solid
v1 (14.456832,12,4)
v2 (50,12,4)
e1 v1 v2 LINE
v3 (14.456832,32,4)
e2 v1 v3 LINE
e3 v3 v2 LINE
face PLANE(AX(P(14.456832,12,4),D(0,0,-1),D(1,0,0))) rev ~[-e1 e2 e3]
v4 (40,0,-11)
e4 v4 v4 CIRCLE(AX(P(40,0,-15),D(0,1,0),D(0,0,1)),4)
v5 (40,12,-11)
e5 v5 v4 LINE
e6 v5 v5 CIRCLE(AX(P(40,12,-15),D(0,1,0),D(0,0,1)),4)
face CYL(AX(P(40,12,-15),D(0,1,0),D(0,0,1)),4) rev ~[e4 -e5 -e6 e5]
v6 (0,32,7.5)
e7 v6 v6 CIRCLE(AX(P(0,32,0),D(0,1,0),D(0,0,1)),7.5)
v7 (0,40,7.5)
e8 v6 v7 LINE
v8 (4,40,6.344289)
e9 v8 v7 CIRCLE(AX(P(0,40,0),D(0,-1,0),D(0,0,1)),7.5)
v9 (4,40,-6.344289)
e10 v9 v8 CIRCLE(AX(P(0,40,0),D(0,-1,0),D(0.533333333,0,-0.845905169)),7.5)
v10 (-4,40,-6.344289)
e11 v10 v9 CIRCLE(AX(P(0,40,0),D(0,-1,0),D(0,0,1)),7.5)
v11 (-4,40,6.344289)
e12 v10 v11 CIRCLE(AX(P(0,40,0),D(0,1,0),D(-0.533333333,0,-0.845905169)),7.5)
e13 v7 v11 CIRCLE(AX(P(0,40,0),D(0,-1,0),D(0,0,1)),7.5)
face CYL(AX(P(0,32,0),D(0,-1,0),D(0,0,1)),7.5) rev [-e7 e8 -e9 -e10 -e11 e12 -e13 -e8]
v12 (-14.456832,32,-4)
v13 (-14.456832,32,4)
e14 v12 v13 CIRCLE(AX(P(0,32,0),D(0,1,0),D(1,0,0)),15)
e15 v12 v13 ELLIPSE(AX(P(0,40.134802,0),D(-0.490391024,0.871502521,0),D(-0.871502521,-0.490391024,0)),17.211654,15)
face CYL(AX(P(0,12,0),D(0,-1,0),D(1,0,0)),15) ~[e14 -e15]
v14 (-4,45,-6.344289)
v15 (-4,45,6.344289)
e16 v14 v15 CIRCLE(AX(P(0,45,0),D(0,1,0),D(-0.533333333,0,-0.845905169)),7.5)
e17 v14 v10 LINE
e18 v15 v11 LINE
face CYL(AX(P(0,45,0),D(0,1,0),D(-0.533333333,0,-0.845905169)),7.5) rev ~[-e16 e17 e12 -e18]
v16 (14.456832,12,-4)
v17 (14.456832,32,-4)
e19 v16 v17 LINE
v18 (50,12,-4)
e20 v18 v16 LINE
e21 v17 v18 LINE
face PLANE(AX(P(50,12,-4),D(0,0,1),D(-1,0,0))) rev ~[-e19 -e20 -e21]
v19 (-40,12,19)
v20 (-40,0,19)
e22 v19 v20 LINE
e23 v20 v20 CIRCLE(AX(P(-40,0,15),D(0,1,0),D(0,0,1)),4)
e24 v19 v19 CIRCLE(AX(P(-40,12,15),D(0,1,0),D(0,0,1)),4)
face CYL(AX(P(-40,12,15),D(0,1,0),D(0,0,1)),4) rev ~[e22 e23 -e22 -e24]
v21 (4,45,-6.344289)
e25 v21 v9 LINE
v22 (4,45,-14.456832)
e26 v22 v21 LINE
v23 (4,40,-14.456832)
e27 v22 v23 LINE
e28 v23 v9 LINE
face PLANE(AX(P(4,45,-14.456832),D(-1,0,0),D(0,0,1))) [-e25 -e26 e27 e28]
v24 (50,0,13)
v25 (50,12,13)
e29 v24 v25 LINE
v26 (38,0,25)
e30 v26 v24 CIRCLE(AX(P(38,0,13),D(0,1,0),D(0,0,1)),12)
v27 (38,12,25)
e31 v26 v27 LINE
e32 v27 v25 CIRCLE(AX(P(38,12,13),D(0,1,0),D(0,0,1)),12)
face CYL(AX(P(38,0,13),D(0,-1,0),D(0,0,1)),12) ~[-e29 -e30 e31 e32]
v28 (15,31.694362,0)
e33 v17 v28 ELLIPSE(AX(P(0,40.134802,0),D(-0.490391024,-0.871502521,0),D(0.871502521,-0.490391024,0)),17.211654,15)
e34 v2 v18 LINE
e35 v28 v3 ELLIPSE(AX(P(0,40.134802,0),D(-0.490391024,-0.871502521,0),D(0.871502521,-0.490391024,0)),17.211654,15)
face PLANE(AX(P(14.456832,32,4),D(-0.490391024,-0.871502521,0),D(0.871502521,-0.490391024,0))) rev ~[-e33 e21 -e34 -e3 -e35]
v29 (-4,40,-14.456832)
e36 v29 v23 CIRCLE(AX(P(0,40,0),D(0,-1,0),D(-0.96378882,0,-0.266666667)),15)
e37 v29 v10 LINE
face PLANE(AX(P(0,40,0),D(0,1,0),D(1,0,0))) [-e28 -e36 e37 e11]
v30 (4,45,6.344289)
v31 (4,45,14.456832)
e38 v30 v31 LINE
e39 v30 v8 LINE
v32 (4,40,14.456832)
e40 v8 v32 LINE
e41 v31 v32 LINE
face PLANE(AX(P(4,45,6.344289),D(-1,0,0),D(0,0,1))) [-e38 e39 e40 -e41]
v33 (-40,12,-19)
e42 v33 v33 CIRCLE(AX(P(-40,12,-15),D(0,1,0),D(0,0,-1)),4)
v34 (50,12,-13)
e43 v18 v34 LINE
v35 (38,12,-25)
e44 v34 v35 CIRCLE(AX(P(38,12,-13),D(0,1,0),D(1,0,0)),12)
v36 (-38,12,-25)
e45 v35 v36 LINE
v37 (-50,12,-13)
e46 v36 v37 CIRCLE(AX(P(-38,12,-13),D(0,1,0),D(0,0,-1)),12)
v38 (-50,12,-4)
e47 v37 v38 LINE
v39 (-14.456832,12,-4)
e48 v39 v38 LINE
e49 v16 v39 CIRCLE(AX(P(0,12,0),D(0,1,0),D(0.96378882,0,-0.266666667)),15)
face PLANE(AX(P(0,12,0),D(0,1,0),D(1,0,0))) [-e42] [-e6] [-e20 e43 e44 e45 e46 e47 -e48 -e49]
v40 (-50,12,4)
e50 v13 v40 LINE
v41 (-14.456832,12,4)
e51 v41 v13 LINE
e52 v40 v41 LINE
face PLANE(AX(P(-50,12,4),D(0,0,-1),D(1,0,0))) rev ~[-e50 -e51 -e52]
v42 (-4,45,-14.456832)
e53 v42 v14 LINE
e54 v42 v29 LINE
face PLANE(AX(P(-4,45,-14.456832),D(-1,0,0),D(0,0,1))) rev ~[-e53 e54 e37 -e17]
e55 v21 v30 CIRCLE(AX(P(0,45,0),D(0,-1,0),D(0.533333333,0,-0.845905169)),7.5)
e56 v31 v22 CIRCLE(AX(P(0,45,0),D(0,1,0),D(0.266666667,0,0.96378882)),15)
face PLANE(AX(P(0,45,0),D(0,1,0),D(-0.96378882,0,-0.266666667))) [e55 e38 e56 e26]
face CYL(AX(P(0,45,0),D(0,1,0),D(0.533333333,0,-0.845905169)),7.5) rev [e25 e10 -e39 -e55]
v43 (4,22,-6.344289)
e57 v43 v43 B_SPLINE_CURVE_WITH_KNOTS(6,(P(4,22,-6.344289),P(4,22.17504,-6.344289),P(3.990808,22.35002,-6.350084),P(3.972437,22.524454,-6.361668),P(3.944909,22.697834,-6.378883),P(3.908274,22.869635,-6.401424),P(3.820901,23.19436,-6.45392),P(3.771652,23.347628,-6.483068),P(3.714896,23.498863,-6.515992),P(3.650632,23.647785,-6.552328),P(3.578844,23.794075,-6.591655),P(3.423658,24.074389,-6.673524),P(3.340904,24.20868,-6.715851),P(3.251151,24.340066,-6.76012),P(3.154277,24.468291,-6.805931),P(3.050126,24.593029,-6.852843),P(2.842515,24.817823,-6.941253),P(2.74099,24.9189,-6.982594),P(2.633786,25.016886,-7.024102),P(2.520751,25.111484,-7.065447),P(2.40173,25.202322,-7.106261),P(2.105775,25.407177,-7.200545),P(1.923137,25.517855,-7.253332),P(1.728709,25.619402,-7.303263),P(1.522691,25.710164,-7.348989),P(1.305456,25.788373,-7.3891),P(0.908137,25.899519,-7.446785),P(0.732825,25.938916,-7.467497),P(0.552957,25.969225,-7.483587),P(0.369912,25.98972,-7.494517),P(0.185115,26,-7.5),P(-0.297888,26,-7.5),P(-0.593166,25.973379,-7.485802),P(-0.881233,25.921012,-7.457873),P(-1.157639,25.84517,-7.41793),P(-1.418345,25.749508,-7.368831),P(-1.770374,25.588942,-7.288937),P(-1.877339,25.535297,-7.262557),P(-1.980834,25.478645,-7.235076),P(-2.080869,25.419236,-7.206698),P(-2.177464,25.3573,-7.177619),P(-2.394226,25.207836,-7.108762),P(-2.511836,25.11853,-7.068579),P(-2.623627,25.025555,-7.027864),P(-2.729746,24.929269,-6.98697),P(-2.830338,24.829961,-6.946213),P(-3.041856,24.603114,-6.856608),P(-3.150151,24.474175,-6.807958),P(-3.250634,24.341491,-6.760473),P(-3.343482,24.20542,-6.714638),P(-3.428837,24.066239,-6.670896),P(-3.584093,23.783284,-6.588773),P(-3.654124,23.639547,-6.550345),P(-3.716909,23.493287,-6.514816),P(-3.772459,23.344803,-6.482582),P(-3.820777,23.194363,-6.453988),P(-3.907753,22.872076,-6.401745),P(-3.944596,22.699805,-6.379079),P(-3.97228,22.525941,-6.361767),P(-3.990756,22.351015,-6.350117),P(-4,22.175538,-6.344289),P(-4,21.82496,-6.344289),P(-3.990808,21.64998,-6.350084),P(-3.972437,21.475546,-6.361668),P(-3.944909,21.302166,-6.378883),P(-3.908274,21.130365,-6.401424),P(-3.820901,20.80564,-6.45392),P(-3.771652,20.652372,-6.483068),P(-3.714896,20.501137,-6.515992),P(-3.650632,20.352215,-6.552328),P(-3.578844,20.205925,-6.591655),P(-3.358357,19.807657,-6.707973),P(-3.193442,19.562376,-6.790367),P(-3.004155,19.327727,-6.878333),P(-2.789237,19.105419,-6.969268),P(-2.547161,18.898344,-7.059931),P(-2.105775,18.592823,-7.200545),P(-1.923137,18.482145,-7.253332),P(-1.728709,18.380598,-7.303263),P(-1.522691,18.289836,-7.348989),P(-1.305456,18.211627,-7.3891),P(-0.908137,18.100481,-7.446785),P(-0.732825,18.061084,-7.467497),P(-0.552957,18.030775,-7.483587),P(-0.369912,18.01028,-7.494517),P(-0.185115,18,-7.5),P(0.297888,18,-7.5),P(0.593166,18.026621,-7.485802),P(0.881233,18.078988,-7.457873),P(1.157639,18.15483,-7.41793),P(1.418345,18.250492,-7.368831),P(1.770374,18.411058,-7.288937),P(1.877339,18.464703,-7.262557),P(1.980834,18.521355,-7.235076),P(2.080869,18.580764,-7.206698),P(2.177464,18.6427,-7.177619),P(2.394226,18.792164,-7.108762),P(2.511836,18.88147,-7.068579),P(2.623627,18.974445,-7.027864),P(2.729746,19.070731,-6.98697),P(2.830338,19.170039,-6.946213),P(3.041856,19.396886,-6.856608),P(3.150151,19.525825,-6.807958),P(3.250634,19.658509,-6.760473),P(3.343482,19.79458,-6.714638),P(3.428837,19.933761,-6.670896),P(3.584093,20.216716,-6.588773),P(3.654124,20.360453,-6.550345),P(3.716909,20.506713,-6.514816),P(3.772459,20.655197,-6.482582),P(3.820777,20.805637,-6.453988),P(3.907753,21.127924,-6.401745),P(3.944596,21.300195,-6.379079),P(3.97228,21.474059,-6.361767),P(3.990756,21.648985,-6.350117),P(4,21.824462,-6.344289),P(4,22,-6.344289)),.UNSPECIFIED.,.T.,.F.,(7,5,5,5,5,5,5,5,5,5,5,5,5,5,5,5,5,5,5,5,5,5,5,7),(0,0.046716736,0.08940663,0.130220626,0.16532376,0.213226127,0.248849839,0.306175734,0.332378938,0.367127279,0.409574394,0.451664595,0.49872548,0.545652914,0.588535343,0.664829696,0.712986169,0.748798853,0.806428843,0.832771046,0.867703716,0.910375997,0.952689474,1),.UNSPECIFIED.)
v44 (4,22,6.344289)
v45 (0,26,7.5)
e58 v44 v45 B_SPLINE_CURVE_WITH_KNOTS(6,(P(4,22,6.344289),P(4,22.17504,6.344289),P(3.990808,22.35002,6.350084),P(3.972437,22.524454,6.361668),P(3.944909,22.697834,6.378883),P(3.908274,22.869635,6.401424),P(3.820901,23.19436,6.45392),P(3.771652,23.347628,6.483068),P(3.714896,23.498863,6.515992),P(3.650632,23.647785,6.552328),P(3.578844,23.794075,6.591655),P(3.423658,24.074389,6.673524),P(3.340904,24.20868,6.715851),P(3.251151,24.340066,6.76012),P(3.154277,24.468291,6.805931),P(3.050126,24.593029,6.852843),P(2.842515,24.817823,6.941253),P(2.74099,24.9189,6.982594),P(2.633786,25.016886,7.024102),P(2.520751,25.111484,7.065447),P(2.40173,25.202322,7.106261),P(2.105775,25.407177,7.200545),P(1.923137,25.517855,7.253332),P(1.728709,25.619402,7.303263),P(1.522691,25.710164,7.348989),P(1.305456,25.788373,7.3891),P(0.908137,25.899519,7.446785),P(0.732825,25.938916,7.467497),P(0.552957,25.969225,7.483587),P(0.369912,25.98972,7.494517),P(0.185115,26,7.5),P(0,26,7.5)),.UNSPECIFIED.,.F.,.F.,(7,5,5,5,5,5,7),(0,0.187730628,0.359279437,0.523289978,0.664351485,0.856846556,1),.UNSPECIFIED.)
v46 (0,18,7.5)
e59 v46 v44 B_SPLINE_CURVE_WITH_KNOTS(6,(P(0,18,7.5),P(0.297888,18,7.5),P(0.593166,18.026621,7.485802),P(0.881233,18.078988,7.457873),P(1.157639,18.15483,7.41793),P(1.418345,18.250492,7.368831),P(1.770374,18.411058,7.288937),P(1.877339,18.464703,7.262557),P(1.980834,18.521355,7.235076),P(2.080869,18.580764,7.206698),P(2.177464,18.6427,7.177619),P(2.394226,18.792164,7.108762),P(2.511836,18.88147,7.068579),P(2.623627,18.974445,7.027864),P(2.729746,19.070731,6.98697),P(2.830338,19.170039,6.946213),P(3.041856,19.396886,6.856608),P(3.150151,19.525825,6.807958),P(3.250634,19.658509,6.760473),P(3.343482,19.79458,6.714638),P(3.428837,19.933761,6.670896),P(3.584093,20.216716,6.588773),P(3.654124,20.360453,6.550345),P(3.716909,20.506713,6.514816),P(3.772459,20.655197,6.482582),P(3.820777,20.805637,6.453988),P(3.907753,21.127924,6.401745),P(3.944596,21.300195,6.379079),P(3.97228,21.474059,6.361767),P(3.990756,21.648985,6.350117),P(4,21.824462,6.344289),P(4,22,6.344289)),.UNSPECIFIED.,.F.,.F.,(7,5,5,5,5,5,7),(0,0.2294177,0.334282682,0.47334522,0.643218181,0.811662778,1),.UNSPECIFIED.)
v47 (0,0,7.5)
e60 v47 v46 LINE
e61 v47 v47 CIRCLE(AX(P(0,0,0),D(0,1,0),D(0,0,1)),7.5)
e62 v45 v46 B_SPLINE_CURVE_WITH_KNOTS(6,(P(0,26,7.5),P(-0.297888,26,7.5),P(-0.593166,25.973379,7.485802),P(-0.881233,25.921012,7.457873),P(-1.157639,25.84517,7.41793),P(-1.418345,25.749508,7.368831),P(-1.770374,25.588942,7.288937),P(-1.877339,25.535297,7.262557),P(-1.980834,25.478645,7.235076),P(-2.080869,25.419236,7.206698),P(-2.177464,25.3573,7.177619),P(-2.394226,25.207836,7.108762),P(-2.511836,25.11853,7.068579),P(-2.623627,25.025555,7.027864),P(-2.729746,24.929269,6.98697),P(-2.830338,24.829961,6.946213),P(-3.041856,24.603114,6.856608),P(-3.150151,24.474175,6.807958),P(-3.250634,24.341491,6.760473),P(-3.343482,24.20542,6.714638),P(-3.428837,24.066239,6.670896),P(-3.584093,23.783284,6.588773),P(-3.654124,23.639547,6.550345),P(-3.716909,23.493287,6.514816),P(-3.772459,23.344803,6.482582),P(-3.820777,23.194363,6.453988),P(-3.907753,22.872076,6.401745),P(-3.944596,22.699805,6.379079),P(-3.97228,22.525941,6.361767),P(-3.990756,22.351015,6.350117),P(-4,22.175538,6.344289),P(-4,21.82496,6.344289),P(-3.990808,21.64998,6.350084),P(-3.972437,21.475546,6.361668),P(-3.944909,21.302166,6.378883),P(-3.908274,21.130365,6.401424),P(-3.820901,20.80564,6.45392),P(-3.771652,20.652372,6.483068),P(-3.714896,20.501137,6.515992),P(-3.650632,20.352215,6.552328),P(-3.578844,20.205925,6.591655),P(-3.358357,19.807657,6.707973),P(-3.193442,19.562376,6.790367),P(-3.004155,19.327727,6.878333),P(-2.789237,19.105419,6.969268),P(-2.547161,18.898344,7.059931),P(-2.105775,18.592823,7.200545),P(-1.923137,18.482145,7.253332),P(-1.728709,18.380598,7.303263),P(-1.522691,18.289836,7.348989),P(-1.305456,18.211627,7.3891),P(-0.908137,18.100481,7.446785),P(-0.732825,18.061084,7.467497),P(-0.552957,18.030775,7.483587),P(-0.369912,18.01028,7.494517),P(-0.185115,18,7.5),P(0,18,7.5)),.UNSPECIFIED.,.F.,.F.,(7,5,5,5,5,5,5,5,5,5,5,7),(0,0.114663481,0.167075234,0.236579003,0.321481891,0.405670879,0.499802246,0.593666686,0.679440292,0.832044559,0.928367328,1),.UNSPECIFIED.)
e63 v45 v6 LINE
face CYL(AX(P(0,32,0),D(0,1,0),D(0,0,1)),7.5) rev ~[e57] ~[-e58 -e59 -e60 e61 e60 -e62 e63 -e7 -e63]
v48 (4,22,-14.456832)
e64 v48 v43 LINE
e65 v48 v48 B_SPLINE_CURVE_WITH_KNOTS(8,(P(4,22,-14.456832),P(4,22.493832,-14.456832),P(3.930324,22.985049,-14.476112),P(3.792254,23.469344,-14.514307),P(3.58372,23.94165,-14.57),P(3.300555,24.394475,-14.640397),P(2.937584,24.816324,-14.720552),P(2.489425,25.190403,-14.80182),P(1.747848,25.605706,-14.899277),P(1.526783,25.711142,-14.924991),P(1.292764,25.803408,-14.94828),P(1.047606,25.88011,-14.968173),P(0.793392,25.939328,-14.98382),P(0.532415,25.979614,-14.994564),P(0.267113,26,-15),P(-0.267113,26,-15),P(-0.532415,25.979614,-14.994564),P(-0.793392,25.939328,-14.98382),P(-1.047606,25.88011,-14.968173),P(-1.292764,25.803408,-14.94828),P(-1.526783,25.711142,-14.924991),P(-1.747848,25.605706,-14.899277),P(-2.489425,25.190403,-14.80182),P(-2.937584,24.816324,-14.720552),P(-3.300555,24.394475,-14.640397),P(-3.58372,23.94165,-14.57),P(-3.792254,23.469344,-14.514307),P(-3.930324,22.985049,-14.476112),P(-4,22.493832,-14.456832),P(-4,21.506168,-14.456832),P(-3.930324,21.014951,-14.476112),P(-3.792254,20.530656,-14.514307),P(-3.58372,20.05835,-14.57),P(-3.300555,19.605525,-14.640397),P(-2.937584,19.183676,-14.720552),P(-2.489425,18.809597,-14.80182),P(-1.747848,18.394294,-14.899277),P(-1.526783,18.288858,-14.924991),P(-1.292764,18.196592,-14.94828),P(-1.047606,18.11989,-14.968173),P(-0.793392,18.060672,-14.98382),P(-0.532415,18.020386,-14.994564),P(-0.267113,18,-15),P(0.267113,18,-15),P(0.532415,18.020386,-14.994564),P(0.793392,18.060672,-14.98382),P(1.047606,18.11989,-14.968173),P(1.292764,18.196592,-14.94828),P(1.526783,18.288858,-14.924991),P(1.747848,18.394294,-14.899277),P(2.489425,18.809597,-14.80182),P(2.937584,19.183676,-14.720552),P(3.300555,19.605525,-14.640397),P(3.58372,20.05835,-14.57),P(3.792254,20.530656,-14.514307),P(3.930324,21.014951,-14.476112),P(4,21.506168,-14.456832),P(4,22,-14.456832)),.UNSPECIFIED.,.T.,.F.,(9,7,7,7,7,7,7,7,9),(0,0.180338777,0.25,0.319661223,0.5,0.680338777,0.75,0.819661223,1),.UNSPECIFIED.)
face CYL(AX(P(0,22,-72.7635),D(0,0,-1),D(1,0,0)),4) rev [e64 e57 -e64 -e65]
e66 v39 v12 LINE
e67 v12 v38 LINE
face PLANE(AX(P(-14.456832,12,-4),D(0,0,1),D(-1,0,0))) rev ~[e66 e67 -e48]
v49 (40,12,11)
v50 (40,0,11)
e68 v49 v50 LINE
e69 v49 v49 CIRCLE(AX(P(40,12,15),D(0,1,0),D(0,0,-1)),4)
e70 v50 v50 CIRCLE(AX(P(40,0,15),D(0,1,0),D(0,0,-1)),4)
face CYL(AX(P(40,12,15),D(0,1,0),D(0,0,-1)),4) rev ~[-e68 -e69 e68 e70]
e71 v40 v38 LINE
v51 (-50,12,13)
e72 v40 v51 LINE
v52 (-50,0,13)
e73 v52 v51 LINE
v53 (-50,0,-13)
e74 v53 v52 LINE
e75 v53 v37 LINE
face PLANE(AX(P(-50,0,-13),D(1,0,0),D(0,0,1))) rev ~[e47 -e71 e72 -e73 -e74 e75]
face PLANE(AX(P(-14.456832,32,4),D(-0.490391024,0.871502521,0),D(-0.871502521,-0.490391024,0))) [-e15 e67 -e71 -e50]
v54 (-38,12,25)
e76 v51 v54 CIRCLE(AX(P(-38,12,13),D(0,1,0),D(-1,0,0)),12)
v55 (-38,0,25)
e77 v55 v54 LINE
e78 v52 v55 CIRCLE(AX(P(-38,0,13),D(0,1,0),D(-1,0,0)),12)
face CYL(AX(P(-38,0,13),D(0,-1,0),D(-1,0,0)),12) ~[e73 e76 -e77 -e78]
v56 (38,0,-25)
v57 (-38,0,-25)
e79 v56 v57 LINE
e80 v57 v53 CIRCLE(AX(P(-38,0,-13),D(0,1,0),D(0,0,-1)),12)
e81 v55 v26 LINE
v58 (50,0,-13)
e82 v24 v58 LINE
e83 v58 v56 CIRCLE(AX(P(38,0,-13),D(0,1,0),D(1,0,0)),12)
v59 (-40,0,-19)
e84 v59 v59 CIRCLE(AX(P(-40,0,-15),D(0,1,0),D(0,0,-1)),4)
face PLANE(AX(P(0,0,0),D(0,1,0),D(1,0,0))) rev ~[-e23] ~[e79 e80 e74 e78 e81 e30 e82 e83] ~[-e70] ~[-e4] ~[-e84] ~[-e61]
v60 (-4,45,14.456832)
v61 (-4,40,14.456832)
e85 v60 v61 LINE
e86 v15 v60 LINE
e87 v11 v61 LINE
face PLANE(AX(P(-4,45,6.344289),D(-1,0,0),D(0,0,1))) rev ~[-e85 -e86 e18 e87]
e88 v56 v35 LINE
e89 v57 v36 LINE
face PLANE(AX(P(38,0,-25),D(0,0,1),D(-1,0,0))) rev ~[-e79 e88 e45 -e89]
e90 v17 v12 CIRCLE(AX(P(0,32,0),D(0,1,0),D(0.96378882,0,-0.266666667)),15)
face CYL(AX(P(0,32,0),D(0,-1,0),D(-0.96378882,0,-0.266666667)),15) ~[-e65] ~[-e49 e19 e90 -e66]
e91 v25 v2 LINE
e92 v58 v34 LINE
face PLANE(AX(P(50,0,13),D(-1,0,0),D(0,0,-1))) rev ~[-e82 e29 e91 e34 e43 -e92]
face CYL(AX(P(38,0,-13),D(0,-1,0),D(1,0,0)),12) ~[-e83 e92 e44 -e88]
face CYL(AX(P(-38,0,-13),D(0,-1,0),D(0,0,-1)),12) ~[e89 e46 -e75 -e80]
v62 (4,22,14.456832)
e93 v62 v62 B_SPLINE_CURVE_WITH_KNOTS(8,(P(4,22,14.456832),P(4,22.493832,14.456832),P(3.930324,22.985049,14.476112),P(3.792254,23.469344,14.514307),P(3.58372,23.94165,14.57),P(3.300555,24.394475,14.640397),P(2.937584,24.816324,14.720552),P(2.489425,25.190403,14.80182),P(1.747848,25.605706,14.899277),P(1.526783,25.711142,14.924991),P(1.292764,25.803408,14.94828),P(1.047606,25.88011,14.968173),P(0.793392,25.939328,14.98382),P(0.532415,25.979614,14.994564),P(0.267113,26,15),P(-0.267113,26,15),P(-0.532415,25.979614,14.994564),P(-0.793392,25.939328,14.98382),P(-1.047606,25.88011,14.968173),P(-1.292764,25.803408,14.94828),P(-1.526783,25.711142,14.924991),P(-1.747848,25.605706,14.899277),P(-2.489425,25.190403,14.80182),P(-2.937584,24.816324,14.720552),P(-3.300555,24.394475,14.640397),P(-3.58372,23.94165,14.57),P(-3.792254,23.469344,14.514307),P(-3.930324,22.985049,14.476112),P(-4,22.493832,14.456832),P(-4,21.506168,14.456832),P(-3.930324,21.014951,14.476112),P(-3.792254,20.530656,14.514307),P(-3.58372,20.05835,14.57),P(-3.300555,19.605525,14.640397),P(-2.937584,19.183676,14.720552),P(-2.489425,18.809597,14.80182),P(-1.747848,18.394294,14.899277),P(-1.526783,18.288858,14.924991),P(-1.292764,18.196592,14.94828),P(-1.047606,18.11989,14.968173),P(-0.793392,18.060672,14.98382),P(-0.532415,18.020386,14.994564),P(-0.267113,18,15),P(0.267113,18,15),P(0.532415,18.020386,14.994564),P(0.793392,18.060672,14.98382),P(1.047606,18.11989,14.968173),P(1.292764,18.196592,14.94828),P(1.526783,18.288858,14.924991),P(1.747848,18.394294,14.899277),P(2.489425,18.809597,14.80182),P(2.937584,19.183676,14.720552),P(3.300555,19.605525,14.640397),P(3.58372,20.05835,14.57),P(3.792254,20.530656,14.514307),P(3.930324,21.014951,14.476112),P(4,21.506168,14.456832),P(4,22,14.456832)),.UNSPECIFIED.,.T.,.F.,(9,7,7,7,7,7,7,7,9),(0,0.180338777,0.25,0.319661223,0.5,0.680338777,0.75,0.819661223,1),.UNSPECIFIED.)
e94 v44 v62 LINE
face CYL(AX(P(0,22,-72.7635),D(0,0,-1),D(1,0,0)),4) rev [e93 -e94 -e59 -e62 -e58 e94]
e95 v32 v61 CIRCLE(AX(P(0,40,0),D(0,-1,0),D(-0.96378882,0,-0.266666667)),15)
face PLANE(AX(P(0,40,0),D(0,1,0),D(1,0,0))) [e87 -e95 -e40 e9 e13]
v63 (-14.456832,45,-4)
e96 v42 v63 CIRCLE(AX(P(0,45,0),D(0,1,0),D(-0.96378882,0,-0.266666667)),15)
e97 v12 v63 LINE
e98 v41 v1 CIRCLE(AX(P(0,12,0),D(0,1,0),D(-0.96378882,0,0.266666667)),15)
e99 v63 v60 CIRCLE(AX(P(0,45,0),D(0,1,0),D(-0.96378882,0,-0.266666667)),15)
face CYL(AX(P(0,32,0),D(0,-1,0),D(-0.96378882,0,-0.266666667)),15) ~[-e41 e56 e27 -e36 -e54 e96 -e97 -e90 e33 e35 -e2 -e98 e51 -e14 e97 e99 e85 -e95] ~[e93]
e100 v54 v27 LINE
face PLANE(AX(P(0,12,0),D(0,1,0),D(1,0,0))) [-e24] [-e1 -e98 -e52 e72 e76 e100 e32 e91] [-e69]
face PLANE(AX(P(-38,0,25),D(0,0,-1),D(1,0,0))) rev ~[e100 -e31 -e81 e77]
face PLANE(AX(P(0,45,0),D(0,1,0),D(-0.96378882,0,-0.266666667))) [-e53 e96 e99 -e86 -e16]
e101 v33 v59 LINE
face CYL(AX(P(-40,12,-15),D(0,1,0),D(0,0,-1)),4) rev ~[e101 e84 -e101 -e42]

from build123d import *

# Parameters (mm, degrees)
EXTRUDE_1_DEPTH          = 12
SKETCH_2_R               = 3.999999999999999
CUT_EXTRUDE_2_DEPTH      = 58.17516943569124
EXTRUDE_2_DEPTH          = 20
CUT_EXTRUDE_3_DEPTH      = 67.06814663663573
CUT_EXTRUDE_4_DEPTH      = 67.06814663663573
SKETCH_7_R               = 7.5
CUT_EXTRUDE_5_DEPTH      = 65.41273166075167
EXTRUDE_START            = -20
SKETCH_8_R               = 15
SKETCH_8_R_2             = 7.499999999999999
EXTRUDE_3_DEPTH          = 20
SKETCH_10_R              = 15
SKETCH_10_R_2            = 7.500000000000001
EXTRUDE_4_DEPTH          = 13
SKETCH_11_OUTSIDE_W      = 126.10400000000001
SKETCH_11_OUTSIDE_H      = 76.104
CUT_EXTRUDE_7_DEPTH      = 5
CUT_EXTRUDE_8_DEPTH      = 72.76350047203664
CUT_EXTRUDE_8_DEPTH_BACK = 72.76350047203664
SKETCH_12_R              = 4


with BuildPart() as part:
    # 草图1 → 凸台-拉伸1 (new body)
    with BuildSketch(Plane(origin=(0, 0, 0), x_dir=(1, 0, 0), z_dir=(0, 1, 0))):
        with BuildLine():
            Line((37.99999999999992, 25.00000000000001), (-37.999999999999915, 25))
            ThreePointArc((-37.999999999999915, 25), (-46.48528137423857, 21.485281374238575), (-50, 12.999999999999913))
            Line((-50, 12.999999999999913), (-49.99999999999999, -12.99999999999992))
            ThreePointArc((-49.99999999999999, -12.99999999999992), (-46.48528137423857, -21.48528137423858), (-37.99999999999991, -25.000000000000004))
            Line((-37.99999999999991, -25.000000000000004), (37.99999999999992, -24.999999999999993))
            ThreePointArc((37.99999999999992, -24.999999999999993), (46.48528137423858, -21.48528137423856), (50.00000000000001, -12.999999999999908))
            Line((50.00000000000001, -12.999999999999908), (50.00000000000001, 12.999999999999927))
            ThreePointArc((50.00000000000001, 12.999999999999927), (46.48528137423858, 21.485281374238582), (37.99999999999992, 25.00000000000001))
        make_face()
    extrude(amount=EXTRUDE_1_DEPTH)

    # 草图2 → 切除-拉伸2 (cut, through all)
    with BuildSketch(Plane(origin=(0, 12, 0), x_dir=(1, 0, 0), z_dir=(0, 1, 0))):
        with Locations(Location((-39.99999999999999, -15, 0), (0, 0, 270))):
            Circle(SKETCH_2_R)
        with Locations(Location((39.99999999999999, -15, 0), (0, 0, 90))):
            Circle(SKETCH_2_R)
        with Locations(Location((39.99999999999999, 15, 0), (0, 0, 270))):
            Circle(SKETCH_2_R)
        with Locations(Location((-39.99999999999999, 15, 0), (0, 0, 90))):
            Circle(SKETCH_2_R)
    extrude(amount=-CUT_EXTRUDE_2_DEPTH, mode=Mode.SUBTRACT)

    # 草图4 → 凸台-拉伸2 (add)
    with BuildSketch(Plane(origin=(0, 12, 0), x_dir=(1, 0, 0), z_dir=(0, 1, 0))):
        with BuildLine():
            Line((-50, -4), (-14.456832294800959, -4.000000000000001))
            ThreePointArc((-14.456832294800959, -4.000000000000001), (9.2e-16, -14.999999999999998), (14.456832294800959, -4))
            Line((14.456832294800959, -4), (50.00000000000001, -3.9999999999999982))
            Line((50.00000000000001, -3.9999999999999982), (50.00000000000001, 3.9999999999999982))
            Line((50.00000000000001, 3.9999999999999982), (14.456832294800959, 4))
            ThreePointArc((14.456832294800959, 4), (9.2e-16, 14.999999999999998), (-14.456832294800959, 4.000000000000001))
            Line((-14.456832294800959, 4.000000000000001), (-50, 4))
            Line((-50, 4), (-50, -4))
        make_face()
    extrude(amount=EXTRUDE_2_DEPTH)

    # 草图5 → 切除-拉伸3 (cut, through all)
    with BuildSketch(Plane.XY.offset(4.000000000000001)):
        Polygon((-14.456832294800959, 32), (-49.99999999999999, 12), (-50, 32), align=None)
    extrude(amount=-CUT_EXTRUDE_3_DEPTH, mode=Mode.SUBTRACT)

    # 草图6 → 切除-拉伸4 (cut, through all)
    with BuildSketch(Plane.XY.offset(4.000000000000001)):
        Polygon((14.456832294800959, 32), (50.00000000000001, 12), (50.00000000000001, 32), align=None)
    extrude(amount=-CUT_EXTRUDE_4_DEPTH, mode=Mode.SUBTRACT)

    # 草图7 → 切除-拉伸5 (cut, through all)
    with BuildSketch(Plane(origin=(0, 32, 0), x_dir=(1, 0, 0), z_dir=(0, 1, 0))):
        with Locations(Location((0, 0, 0), (0, 0, 270))):
            Circle(SKETCH_7_R)
    extrude(amount=-CUT_EXTRUDE_5_DEPTH, mode=Mode.SUBTRACT)

    # 草图8 → 凸台-拉伸3 (add)
    with BuildSketch(Plane(origin=(0, 32, 0), x_dir=(1, 0, 0), z_dir=(0, 1, 0)).offset(EXTRUDE_START)):
        Circle(SKETCH_8_R)
        with Locations(Location((0, 0, 0), (0, 0, 270))):
            Circle(SKETCH_8_R_2, mode=Mode.SUBTRACT)
    extrude(amount=EXTRUDE_3_DEPTH)

    # 草图10 → 凸台-拉伸4 (add)
    with BuildSketch(Plane(origin=(0, 32, 0), x_dir=(1, 0, 0), z_dir=(0, 1, 0))):
        with Locations(Location((0, 0, 0), (0, 0, 164.533990047))):
            Circle(SKETCH_10_R)
        with Locations(Location((0, 0, 0), (0, 0, 270))):
            Circle(SKETCH_10_R_2, mode=Mode.SUBTRACT)
    extrude(amount=EXTRUDE_4_DEPTH)

    # 草图11 outside → 切除-拉伸7 (cut)
    with BuildSketch(Plane(origin=(0, 45, 0), x_dir=(1, 0, 0), z_dir=(0, 1, 0))):
        Rectangle(SKETCH_11_OUTSIDE_W, SKETCH_11_OUTSIDE_H)
        with BuildLine():
            Line((4.000000000000002, -6.34428877022476), (4.000000000000003, -14.456832294800959))
            ThreePointArc((4.000000000000003, -14.456832294800959), (15, 0), (4.000000000000003, 14.456832294800959))
            Line((4.000000000000003, 14.456832294800959), (4.000000000000002, 6.34428877022476))
            ThreePointArc((4.000000000000002, 6.34428877022476), (7.500000000000001, 0), (4.000000000000002, -6.34428877022476))
        make_face(mode=Mode.SUBTRACT)
        with BuildLine():
            Line((-4.000000000000002, -6.34428877022476), (-4.000000000000003, -14.456832294800959))
            ThreePointArc((-4.000000000000003, -14.456832294800959), (-15, 1.84e-15), (-4.000000000000003, 14.456832294800959))
            Line((-4.000000000000003, 14.456832294800959), (-4.000000000000002, 6.34428877022476))
            ThreePointArc((-4.000000000000002, 6.34428877022476), (-7.500000000000001, 9.2e-16), (-4.000000000000002, -6.34428877022476))
        make_face(mode=Mode.SUBTRACT)
    extrude(amount=-CUT_EXTRUDE_7_DEPTH, mode=Mode.SUBTRACT)

    # 草图12 → 切除-拉伸8 (cut, two sides: drawn at the far end of the back side and taken through both)
    with BuildSketch(Plane.XY.offset(-CUT_EXTRUDE_8_DEPTH_BACK)):
        with Locations((0, 22)):
            Circle(SKETCH_12_R)
    extrude(amount=CUT_EXTRUDE_8_DEPTH + CUT_EXTRUDE_8_DEPTH_BACK, mode=Mode.SUBTRACT)


solid = part.part
